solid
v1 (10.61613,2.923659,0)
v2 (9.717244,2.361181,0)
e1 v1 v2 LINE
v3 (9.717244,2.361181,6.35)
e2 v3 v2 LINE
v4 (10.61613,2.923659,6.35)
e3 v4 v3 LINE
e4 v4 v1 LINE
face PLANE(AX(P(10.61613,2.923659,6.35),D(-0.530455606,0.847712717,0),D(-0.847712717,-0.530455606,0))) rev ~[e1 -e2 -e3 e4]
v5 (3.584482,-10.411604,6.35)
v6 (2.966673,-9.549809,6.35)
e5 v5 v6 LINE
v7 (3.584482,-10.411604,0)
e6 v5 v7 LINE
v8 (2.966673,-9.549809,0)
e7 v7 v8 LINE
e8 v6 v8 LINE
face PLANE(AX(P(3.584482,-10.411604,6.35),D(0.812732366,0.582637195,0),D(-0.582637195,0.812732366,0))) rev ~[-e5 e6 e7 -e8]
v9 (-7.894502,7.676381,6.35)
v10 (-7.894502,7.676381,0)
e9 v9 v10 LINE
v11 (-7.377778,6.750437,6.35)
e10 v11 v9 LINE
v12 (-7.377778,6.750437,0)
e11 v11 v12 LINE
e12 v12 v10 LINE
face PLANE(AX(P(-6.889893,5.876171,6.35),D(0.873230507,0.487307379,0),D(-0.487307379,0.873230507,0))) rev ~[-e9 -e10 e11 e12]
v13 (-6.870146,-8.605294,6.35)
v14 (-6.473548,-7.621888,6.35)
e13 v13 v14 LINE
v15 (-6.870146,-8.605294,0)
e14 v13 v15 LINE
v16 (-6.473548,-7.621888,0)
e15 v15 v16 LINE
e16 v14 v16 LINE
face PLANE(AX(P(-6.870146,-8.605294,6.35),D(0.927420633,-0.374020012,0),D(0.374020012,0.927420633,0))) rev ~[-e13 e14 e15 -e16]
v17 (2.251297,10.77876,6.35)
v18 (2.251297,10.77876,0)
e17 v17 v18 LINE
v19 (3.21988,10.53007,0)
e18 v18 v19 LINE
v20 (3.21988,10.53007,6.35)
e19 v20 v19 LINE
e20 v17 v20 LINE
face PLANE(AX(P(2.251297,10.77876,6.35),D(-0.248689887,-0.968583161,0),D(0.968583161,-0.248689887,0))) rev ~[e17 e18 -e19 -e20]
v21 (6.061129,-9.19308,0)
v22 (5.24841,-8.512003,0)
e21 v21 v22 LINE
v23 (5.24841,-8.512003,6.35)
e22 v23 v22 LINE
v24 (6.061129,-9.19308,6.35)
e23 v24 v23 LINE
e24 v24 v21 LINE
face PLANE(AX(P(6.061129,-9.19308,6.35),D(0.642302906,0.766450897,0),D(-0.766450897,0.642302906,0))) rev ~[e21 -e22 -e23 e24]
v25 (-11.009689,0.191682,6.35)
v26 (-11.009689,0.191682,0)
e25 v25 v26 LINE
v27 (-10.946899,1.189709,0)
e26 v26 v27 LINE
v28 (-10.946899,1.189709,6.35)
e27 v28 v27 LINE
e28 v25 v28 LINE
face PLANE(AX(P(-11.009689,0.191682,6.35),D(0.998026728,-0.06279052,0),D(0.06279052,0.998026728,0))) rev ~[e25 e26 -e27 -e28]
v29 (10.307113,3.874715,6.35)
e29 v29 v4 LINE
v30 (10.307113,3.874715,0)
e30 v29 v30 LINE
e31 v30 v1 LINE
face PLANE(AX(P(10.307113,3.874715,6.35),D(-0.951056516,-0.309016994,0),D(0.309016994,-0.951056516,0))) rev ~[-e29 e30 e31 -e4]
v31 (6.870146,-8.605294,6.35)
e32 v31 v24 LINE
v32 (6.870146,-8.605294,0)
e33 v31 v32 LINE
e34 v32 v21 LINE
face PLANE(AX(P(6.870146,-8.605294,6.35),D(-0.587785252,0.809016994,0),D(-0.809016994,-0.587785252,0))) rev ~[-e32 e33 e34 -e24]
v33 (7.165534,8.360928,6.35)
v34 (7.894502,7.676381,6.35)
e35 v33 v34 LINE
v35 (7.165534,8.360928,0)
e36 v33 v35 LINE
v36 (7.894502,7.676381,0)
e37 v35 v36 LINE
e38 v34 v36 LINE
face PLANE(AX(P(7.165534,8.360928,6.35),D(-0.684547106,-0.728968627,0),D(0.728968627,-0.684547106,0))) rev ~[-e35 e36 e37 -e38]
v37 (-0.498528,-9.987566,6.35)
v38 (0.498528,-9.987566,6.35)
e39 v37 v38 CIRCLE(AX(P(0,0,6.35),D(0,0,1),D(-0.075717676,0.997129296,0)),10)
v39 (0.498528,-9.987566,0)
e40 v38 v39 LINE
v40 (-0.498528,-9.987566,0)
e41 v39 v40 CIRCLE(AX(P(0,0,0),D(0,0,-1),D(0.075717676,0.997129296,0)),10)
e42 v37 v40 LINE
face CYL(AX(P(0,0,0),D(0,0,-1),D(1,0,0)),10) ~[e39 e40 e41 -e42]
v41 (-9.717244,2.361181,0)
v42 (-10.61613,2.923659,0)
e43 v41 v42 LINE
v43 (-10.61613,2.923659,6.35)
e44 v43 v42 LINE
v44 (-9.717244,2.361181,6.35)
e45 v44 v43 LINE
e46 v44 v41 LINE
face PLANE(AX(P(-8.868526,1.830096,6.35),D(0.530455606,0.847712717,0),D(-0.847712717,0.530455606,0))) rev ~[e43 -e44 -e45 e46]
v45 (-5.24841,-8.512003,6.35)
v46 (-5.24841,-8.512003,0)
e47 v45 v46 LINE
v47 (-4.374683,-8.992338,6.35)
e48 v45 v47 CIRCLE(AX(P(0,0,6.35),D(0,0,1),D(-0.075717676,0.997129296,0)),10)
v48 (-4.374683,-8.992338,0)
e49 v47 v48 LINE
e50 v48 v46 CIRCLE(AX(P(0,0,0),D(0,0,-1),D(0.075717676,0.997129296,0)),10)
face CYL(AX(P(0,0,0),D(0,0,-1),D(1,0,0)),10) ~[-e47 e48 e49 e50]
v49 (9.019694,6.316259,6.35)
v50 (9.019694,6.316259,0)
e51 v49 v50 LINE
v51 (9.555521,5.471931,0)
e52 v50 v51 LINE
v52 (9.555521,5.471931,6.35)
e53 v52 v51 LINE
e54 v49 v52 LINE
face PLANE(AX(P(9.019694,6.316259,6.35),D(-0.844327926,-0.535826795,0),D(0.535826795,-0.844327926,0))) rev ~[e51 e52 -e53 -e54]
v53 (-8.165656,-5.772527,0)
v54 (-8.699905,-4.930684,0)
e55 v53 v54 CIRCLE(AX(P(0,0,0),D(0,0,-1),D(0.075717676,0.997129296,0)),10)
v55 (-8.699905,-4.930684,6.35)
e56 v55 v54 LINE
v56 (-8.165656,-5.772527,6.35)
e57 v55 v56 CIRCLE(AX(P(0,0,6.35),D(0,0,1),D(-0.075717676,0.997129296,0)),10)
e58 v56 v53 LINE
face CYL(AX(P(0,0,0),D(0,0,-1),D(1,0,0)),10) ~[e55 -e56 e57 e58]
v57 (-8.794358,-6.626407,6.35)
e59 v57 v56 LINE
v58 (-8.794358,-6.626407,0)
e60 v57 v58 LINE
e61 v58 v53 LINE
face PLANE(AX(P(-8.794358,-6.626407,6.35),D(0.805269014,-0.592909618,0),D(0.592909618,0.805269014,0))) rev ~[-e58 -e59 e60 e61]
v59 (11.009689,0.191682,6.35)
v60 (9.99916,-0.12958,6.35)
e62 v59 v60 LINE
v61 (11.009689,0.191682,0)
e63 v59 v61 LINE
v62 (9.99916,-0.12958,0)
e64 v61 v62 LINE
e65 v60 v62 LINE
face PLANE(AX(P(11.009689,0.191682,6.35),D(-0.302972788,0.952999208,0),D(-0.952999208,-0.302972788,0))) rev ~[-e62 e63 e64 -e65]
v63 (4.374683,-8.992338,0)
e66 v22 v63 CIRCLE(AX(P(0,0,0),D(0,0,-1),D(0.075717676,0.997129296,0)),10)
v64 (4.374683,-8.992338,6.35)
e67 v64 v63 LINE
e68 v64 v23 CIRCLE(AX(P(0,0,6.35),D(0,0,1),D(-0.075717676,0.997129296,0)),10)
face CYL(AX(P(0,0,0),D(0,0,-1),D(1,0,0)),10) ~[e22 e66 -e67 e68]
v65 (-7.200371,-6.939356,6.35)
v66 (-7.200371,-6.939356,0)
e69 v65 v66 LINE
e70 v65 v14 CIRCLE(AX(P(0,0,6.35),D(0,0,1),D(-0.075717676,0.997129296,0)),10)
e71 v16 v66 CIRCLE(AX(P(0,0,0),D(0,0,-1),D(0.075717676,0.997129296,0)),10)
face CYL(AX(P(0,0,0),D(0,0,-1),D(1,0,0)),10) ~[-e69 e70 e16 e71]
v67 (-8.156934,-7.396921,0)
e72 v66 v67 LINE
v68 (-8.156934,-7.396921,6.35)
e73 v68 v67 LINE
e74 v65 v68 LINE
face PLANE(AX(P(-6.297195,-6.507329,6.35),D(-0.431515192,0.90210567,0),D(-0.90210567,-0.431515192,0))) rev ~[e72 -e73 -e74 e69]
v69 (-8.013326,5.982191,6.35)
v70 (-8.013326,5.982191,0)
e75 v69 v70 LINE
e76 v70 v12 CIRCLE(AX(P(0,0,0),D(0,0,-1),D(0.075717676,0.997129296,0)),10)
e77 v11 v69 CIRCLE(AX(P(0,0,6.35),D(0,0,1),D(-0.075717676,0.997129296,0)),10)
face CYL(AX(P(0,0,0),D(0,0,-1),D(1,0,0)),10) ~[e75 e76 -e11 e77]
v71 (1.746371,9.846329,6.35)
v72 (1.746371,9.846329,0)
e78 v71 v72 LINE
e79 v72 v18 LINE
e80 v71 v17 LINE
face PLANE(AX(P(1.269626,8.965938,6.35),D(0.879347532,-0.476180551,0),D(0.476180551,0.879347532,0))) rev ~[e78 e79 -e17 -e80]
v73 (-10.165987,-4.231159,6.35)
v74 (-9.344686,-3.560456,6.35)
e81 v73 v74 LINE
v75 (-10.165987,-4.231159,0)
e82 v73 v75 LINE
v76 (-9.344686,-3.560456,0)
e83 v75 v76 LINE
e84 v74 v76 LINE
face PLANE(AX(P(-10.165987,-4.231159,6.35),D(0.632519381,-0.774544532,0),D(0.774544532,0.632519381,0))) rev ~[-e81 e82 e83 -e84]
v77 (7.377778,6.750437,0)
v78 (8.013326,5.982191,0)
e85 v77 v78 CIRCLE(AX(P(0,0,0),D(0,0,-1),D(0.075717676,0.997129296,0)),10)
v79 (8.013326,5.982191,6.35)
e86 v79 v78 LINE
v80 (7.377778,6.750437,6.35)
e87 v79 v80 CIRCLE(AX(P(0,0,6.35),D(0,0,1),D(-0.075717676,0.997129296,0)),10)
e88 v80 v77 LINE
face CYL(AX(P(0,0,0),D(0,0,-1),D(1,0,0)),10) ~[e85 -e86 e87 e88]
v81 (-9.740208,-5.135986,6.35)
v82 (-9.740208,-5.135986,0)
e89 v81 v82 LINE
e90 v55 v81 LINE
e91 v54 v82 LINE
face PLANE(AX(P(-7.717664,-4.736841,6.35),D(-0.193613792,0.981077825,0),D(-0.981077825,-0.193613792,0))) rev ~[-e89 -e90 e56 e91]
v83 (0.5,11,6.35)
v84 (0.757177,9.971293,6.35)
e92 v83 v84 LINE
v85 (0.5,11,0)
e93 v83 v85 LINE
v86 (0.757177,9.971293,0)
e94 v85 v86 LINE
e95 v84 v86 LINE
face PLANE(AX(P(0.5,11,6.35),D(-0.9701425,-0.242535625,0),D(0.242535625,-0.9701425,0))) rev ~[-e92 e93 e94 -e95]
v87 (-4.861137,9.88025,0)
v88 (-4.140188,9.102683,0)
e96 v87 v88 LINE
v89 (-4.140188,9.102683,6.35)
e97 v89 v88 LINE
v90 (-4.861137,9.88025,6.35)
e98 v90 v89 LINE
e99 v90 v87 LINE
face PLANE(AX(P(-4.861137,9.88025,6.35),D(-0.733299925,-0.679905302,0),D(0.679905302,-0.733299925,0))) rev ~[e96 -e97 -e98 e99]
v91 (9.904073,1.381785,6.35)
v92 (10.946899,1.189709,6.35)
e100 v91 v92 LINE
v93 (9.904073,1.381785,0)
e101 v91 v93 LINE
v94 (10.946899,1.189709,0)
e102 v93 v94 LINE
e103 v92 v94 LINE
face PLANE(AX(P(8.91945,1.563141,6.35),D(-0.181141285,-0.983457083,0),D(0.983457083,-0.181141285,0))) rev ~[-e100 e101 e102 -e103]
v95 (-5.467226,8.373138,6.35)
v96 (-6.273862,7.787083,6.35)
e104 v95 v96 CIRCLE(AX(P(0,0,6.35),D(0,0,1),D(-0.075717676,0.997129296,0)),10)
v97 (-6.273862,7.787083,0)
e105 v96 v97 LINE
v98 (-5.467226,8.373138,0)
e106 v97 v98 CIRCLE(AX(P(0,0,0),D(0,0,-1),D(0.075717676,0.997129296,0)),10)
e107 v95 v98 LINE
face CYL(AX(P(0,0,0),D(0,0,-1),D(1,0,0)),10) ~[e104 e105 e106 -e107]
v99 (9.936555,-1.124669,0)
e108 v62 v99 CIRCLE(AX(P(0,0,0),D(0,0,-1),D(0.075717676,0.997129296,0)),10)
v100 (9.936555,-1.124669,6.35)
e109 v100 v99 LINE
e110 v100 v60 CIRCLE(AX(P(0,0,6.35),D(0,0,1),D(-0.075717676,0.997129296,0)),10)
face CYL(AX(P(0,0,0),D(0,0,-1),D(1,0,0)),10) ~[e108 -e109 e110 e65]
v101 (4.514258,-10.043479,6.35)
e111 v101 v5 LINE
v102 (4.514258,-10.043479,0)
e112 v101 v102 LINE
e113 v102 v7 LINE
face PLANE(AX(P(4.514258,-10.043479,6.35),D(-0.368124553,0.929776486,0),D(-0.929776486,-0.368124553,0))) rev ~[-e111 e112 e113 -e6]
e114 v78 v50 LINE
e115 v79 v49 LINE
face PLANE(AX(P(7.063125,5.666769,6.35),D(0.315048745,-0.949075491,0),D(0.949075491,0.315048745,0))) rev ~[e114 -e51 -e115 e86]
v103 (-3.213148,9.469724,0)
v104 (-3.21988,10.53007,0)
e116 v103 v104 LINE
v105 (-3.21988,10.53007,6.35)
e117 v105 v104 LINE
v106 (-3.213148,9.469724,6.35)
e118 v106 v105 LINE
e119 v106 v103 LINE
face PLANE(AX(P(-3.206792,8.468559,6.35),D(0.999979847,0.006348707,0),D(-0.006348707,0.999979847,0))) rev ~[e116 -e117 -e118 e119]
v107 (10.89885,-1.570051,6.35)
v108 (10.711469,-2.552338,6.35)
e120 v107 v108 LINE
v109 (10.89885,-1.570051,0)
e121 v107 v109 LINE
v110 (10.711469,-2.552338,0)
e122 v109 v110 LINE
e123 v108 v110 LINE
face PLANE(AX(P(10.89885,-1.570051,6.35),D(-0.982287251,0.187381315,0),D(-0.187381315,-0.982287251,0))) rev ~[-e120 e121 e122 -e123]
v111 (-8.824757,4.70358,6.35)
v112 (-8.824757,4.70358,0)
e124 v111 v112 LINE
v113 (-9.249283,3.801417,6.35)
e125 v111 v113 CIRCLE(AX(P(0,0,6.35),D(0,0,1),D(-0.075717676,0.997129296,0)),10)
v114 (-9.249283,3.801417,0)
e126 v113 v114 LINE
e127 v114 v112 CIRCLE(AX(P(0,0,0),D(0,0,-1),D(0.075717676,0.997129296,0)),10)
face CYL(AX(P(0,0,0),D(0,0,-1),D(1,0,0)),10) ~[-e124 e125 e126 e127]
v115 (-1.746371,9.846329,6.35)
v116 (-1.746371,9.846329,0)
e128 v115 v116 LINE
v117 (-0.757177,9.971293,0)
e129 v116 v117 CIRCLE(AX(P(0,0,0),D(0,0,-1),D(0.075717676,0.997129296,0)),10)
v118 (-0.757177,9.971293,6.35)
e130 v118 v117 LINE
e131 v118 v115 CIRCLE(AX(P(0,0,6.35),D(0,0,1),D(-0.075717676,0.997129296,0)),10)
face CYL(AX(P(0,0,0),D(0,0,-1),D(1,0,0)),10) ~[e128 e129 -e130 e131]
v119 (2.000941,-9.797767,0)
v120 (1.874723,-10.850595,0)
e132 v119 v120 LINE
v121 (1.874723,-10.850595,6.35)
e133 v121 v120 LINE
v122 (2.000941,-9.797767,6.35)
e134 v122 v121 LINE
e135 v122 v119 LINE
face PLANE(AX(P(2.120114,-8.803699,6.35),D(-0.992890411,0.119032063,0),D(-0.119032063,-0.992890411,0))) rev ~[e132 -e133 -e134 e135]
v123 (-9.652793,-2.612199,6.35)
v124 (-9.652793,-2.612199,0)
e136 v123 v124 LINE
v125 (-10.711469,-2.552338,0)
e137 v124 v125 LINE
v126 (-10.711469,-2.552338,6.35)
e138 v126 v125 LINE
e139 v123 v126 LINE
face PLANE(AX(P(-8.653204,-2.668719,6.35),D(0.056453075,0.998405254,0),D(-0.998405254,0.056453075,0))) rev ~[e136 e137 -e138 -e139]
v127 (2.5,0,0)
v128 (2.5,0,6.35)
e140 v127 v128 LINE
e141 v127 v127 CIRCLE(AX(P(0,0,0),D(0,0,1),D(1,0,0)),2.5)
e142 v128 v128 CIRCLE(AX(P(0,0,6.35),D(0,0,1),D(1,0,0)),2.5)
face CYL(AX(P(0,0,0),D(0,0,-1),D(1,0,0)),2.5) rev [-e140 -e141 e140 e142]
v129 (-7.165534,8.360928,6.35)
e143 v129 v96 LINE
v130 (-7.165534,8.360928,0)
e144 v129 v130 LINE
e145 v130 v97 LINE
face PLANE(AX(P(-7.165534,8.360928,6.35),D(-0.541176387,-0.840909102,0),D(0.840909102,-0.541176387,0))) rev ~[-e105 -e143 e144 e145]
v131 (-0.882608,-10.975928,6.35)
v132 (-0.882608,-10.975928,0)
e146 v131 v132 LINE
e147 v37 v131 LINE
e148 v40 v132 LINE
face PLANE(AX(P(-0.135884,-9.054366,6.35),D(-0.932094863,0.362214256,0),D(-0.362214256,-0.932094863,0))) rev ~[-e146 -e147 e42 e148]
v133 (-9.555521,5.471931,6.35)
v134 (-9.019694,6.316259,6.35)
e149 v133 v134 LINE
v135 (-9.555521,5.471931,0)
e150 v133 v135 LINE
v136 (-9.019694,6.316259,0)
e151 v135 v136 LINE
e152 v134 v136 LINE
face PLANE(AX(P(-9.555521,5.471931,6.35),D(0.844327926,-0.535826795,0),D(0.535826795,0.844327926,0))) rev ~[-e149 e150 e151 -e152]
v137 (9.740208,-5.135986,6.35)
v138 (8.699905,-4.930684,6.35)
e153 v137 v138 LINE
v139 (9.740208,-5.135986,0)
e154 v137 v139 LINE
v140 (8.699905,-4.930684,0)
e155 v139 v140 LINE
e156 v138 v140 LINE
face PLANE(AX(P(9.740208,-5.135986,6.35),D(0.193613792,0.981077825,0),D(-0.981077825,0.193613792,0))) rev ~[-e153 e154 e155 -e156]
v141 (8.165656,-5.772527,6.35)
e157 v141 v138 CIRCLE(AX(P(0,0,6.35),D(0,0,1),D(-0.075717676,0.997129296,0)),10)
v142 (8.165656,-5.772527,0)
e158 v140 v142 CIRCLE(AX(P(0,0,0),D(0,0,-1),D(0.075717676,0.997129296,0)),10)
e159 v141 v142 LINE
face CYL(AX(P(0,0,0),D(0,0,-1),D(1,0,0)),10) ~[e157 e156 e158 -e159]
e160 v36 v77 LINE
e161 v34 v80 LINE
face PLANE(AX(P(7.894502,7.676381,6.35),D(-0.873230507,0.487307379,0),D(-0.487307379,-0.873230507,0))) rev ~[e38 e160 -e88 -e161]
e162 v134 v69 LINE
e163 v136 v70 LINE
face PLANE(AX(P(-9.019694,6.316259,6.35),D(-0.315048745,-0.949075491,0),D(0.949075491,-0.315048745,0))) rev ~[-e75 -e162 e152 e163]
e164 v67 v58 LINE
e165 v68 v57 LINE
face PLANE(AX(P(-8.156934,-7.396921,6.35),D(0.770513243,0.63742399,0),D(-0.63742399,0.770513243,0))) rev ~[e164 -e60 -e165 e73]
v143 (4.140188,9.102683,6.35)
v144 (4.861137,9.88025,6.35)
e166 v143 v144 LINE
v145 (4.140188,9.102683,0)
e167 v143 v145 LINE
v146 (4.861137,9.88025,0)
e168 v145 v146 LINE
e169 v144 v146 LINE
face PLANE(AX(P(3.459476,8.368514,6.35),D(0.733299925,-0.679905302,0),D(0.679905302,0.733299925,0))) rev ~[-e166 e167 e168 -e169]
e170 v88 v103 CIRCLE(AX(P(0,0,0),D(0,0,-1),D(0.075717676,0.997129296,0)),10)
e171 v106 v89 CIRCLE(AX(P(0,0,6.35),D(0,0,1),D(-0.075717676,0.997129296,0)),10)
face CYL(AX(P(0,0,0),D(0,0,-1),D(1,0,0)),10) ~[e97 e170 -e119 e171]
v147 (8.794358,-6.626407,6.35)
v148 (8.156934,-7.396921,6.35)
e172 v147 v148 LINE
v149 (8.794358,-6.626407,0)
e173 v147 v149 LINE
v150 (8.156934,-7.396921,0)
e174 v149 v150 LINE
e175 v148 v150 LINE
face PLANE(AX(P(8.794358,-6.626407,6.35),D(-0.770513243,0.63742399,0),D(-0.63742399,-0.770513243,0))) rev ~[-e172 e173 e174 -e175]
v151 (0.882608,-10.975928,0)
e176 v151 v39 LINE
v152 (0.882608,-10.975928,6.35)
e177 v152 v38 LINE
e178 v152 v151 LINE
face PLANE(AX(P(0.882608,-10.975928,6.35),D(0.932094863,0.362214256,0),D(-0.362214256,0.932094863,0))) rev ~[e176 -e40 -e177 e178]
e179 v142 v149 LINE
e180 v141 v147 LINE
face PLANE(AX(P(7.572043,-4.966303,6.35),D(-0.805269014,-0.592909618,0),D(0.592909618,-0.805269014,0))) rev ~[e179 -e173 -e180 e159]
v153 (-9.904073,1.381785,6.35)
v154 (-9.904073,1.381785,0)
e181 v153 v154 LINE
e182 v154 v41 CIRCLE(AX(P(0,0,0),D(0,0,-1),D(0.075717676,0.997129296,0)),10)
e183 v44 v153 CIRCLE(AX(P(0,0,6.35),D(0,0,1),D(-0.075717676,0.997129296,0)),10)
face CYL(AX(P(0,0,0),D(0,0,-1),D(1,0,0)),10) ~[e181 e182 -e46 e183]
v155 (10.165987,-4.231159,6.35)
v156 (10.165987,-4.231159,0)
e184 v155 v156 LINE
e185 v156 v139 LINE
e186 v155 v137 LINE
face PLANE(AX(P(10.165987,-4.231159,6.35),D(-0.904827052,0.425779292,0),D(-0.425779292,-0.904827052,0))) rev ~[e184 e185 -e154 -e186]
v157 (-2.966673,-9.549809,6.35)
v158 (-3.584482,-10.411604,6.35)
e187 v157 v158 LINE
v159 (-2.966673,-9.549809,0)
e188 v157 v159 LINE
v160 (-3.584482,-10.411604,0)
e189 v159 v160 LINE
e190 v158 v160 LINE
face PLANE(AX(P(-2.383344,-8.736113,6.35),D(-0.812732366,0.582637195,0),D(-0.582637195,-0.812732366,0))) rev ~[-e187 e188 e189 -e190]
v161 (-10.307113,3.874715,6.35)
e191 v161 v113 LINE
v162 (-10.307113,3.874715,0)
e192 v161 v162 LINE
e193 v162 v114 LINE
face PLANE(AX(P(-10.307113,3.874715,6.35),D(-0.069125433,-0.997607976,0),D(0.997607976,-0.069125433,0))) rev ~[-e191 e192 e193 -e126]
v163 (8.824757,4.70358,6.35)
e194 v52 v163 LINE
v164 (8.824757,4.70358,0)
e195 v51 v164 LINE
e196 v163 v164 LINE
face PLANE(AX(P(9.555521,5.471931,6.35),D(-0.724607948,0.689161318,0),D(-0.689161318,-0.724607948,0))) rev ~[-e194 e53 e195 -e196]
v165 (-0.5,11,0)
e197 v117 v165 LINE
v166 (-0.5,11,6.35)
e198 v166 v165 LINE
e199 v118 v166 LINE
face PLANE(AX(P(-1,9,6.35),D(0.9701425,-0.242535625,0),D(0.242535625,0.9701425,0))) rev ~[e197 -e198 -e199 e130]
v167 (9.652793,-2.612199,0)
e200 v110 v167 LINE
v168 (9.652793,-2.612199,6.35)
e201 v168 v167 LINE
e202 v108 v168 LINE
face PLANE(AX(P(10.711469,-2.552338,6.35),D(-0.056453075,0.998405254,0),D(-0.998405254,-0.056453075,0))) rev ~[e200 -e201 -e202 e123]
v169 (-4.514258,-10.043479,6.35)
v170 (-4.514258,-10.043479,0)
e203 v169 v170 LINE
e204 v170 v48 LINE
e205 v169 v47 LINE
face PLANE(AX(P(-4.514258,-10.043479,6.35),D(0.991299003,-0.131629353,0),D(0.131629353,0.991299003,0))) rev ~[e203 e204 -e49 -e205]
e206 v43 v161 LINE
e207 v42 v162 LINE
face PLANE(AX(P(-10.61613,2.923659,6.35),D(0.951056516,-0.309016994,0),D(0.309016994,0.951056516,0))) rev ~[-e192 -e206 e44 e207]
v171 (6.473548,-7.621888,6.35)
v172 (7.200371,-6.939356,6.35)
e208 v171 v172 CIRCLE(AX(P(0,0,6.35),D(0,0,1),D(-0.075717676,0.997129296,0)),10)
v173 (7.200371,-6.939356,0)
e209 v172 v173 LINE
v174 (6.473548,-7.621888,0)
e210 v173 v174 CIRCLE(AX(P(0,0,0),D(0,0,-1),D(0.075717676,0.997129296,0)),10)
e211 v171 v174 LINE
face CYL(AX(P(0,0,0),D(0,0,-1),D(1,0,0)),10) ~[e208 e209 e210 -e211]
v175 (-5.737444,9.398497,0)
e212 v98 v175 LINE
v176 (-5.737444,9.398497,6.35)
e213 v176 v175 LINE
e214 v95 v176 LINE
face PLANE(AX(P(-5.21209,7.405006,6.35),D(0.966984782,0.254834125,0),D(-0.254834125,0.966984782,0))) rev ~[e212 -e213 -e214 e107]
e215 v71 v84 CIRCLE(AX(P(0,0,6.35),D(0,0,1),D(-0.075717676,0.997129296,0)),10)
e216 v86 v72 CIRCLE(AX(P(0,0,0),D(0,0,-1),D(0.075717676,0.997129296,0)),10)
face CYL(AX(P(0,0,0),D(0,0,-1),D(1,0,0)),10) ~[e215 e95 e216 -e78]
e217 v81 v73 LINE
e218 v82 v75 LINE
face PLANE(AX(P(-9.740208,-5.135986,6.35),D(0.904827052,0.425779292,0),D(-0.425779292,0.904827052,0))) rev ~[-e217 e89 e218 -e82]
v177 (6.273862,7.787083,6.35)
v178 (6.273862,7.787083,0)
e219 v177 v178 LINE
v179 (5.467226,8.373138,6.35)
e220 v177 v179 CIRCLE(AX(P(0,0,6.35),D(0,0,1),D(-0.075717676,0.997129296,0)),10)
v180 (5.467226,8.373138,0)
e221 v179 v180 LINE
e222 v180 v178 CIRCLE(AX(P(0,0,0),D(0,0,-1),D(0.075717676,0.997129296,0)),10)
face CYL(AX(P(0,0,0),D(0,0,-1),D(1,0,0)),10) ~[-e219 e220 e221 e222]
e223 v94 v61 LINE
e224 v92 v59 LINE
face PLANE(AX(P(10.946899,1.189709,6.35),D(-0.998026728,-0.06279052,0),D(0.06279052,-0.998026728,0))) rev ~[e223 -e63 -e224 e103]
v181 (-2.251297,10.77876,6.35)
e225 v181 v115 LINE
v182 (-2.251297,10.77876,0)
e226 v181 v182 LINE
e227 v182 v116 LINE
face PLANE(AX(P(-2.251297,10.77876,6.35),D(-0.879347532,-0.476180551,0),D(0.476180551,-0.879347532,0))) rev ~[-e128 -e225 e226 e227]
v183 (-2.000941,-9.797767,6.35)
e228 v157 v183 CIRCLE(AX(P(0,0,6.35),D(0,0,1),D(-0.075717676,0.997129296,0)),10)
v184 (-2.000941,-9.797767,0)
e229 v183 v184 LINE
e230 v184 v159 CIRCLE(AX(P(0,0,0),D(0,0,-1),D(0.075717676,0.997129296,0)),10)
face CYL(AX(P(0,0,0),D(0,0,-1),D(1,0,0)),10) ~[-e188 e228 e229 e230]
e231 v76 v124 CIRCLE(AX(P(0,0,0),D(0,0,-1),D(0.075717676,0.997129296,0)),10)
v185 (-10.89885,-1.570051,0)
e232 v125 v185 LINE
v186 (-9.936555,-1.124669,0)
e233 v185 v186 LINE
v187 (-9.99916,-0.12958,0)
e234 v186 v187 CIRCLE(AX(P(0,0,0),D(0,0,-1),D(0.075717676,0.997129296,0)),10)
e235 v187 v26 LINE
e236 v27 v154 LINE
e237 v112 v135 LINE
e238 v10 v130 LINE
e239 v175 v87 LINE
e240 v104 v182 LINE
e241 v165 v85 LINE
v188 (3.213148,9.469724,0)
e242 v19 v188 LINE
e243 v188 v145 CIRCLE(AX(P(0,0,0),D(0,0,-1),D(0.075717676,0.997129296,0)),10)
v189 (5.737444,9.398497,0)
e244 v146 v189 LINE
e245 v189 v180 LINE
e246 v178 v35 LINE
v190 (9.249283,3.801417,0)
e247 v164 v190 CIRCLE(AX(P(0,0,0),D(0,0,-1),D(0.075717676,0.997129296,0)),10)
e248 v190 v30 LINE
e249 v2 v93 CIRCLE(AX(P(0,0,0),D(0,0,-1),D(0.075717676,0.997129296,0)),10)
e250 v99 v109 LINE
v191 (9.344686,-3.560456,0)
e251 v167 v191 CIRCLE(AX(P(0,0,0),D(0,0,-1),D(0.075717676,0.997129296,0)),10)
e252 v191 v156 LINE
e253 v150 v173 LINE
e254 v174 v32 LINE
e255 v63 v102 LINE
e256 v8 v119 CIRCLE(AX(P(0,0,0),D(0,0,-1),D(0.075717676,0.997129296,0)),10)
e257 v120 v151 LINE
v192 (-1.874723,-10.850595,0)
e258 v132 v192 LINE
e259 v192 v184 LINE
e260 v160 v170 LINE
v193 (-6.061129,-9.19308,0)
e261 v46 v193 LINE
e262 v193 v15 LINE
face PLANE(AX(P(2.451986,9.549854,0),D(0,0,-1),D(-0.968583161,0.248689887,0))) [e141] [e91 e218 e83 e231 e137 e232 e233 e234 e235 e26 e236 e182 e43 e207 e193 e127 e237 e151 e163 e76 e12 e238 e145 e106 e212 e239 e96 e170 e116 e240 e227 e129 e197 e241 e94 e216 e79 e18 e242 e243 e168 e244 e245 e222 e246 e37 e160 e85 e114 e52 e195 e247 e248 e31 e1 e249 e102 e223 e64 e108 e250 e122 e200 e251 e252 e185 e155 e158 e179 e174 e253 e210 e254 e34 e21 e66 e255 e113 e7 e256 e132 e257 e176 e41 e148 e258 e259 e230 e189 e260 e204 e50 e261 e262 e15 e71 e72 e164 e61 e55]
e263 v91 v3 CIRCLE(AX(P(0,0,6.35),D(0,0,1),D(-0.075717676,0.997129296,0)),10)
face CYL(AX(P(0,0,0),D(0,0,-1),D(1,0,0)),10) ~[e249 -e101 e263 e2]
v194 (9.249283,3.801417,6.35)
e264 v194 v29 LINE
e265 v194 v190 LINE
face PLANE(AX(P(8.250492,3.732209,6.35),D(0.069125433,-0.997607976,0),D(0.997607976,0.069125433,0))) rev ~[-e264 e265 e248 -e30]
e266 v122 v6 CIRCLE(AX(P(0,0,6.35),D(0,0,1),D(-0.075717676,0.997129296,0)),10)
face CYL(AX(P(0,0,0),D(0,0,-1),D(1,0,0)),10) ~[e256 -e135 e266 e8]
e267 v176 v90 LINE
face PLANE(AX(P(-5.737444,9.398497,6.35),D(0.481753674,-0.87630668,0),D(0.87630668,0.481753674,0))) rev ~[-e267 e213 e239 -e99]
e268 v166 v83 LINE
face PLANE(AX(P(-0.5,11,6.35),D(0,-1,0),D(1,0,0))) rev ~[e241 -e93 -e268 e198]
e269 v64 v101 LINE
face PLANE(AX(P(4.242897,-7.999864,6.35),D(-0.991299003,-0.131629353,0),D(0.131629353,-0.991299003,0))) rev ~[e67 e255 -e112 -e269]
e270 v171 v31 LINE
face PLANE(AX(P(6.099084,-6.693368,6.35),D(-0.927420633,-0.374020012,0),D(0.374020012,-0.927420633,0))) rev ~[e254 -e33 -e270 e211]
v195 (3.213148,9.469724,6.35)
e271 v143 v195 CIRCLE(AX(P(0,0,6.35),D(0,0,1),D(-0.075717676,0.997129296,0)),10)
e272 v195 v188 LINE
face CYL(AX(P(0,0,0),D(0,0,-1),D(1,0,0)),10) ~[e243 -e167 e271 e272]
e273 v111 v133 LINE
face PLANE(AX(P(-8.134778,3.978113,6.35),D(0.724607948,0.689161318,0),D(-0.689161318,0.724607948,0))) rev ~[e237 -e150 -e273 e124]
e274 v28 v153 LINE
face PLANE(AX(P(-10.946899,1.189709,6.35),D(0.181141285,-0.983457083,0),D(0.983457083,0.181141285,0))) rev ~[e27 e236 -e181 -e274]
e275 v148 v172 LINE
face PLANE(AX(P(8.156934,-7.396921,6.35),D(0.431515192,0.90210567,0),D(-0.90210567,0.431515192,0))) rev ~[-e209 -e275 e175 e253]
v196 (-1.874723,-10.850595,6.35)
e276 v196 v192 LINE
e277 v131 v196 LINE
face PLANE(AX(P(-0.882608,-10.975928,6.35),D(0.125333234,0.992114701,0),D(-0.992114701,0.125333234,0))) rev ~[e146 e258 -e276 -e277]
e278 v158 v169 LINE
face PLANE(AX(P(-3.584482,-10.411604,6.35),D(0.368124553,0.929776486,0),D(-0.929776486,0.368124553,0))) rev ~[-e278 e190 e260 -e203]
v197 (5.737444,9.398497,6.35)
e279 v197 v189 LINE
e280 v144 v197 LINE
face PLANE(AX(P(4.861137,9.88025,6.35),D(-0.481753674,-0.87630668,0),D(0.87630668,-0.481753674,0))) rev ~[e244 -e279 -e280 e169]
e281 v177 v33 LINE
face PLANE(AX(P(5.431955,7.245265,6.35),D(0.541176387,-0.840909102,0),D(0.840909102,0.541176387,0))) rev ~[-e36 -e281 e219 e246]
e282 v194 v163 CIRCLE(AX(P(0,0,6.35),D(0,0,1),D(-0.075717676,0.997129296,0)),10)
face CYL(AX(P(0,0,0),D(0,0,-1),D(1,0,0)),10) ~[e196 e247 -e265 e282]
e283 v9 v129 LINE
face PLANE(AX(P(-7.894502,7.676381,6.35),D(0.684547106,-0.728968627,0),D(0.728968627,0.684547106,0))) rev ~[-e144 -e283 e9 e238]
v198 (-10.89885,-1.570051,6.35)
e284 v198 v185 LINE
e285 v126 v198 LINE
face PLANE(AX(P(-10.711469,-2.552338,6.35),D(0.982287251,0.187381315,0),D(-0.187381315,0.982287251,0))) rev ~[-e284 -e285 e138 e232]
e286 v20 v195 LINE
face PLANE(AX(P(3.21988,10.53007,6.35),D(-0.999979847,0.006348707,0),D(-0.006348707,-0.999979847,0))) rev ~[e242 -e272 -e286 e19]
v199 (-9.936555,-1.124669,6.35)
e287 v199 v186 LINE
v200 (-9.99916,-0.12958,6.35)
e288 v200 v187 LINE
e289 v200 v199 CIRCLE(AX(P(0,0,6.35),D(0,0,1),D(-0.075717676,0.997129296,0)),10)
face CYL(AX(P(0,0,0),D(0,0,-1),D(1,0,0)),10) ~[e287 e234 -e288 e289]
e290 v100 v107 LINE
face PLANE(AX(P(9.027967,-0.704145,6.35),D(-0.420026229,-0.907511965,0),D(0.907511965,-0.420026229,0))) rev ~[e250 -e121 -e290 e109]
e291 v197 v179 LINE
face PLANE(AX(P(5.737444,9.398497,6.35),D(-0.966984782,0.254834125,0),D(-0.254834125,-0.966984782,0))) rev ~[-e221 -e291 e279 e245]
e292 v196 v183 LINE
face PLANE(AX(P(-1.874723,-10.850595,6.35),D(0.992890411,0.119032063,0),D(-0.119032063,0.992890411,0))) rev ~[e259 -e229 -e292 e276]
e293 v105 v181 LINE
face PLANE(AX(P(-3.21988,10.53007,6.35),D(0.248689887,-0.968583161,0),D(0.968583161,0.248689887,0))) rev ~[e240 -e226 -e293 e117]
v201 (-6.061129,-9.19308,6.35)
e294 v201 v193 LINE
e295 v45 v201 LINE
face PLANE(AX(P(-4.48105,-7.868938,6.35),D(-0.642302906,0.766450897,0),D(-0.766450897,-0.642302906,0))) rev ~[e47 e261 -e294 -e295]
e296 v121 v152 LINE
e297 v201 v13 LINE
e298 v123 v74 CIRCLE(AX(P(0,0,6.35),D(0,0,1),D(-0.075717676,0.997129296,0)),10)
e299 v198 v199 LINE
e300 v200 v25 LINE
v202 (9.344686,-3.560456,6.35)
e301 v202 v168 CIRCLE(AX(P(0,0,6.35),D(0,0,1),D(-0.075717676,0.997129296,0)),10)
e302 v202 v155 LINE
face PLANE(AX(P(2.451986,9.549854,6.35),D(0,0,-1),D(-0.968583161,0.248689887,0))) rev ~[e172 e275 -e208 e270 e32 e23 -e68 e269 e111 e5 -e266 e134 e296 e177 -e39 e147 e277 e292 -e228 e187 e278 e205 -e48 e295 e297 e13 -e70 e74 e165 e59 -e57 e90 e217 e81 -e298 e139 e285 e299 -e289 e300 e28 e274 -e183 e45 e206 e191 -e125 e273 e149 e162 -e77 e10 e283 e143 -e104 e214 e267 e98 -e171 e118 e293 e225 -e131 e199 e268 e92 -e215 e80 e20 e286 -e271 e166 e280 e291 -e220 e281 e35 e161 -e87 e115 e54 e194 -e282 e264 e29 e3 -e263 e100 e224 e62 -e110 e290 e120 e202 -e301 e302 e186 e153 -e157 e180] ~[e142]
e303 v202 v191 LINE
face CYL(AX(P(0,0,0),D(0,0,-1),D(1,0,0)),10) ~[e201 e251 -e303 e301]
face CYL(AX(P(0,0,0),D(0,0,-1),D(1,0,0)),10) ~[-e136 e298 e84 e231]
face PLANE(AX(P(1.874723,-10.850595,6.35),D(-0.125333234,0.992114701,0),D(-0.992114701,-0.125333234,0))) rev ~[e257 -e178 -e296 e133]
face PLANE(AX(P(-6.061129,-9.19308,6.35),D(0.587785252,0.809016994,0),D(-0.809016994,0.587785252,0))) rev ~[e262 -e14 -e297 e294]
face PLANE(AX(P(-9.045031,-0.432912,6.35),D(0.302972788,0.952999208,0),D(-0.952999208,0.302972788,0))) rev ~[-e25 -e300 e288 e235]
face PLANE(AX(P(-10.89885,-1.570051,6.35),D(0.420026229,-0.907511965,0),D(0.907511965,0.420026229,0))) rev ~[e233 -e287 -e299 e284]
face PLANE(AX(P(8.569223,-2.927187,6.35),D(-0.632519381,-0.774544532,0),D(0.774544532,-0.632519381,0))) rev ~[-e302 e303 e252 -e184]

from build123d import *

# Parameters (mm, degrees)
SKETCH1_R           = 10
SKETCH1_R_2         = 2.5
BOSS_EXTRUDE1_DEPTH = 6.35
BOSS_EXTRUDE2_DEPTH = 6.35
CIRPATTERN1_COUNT   = 25


with BuildPart() as part:
    # Sketch1 → Boss-Extrude1 (new body)
    with BuildSketch(Plane.XY):
        Circle(SKETCH1_R)
        Circle(SKETCH1_R_2, mode=Mode.SUBTRACT)
    extrude(amount=BOSS_EXTRUDE1_DEPTH)

    # Sketch2 → Boss-Extrude2 (add)
    with BuildSketch(Plane.XY.offset(6.35)):
        Polygon((-0.5, 11), (0.5, 11), (1, 9), (-1, 9), align=None)
    boss_extrude2 = extrude(amount=-BOSS_EXTRUDE2_DEPTH)

    # CirPattern1: Boss-Extrude2 ×25 about axis
    cirpattern1_axis = Axis((0, 0, 0), (0, 0, 1))
    for i in range(1, CIRPATTERN1_COUNT):
        add(boss_extrude2.rotate(cirpattern1_axis, i * 360 / CIRPATTERN1_COUNT))


solid = part.part
